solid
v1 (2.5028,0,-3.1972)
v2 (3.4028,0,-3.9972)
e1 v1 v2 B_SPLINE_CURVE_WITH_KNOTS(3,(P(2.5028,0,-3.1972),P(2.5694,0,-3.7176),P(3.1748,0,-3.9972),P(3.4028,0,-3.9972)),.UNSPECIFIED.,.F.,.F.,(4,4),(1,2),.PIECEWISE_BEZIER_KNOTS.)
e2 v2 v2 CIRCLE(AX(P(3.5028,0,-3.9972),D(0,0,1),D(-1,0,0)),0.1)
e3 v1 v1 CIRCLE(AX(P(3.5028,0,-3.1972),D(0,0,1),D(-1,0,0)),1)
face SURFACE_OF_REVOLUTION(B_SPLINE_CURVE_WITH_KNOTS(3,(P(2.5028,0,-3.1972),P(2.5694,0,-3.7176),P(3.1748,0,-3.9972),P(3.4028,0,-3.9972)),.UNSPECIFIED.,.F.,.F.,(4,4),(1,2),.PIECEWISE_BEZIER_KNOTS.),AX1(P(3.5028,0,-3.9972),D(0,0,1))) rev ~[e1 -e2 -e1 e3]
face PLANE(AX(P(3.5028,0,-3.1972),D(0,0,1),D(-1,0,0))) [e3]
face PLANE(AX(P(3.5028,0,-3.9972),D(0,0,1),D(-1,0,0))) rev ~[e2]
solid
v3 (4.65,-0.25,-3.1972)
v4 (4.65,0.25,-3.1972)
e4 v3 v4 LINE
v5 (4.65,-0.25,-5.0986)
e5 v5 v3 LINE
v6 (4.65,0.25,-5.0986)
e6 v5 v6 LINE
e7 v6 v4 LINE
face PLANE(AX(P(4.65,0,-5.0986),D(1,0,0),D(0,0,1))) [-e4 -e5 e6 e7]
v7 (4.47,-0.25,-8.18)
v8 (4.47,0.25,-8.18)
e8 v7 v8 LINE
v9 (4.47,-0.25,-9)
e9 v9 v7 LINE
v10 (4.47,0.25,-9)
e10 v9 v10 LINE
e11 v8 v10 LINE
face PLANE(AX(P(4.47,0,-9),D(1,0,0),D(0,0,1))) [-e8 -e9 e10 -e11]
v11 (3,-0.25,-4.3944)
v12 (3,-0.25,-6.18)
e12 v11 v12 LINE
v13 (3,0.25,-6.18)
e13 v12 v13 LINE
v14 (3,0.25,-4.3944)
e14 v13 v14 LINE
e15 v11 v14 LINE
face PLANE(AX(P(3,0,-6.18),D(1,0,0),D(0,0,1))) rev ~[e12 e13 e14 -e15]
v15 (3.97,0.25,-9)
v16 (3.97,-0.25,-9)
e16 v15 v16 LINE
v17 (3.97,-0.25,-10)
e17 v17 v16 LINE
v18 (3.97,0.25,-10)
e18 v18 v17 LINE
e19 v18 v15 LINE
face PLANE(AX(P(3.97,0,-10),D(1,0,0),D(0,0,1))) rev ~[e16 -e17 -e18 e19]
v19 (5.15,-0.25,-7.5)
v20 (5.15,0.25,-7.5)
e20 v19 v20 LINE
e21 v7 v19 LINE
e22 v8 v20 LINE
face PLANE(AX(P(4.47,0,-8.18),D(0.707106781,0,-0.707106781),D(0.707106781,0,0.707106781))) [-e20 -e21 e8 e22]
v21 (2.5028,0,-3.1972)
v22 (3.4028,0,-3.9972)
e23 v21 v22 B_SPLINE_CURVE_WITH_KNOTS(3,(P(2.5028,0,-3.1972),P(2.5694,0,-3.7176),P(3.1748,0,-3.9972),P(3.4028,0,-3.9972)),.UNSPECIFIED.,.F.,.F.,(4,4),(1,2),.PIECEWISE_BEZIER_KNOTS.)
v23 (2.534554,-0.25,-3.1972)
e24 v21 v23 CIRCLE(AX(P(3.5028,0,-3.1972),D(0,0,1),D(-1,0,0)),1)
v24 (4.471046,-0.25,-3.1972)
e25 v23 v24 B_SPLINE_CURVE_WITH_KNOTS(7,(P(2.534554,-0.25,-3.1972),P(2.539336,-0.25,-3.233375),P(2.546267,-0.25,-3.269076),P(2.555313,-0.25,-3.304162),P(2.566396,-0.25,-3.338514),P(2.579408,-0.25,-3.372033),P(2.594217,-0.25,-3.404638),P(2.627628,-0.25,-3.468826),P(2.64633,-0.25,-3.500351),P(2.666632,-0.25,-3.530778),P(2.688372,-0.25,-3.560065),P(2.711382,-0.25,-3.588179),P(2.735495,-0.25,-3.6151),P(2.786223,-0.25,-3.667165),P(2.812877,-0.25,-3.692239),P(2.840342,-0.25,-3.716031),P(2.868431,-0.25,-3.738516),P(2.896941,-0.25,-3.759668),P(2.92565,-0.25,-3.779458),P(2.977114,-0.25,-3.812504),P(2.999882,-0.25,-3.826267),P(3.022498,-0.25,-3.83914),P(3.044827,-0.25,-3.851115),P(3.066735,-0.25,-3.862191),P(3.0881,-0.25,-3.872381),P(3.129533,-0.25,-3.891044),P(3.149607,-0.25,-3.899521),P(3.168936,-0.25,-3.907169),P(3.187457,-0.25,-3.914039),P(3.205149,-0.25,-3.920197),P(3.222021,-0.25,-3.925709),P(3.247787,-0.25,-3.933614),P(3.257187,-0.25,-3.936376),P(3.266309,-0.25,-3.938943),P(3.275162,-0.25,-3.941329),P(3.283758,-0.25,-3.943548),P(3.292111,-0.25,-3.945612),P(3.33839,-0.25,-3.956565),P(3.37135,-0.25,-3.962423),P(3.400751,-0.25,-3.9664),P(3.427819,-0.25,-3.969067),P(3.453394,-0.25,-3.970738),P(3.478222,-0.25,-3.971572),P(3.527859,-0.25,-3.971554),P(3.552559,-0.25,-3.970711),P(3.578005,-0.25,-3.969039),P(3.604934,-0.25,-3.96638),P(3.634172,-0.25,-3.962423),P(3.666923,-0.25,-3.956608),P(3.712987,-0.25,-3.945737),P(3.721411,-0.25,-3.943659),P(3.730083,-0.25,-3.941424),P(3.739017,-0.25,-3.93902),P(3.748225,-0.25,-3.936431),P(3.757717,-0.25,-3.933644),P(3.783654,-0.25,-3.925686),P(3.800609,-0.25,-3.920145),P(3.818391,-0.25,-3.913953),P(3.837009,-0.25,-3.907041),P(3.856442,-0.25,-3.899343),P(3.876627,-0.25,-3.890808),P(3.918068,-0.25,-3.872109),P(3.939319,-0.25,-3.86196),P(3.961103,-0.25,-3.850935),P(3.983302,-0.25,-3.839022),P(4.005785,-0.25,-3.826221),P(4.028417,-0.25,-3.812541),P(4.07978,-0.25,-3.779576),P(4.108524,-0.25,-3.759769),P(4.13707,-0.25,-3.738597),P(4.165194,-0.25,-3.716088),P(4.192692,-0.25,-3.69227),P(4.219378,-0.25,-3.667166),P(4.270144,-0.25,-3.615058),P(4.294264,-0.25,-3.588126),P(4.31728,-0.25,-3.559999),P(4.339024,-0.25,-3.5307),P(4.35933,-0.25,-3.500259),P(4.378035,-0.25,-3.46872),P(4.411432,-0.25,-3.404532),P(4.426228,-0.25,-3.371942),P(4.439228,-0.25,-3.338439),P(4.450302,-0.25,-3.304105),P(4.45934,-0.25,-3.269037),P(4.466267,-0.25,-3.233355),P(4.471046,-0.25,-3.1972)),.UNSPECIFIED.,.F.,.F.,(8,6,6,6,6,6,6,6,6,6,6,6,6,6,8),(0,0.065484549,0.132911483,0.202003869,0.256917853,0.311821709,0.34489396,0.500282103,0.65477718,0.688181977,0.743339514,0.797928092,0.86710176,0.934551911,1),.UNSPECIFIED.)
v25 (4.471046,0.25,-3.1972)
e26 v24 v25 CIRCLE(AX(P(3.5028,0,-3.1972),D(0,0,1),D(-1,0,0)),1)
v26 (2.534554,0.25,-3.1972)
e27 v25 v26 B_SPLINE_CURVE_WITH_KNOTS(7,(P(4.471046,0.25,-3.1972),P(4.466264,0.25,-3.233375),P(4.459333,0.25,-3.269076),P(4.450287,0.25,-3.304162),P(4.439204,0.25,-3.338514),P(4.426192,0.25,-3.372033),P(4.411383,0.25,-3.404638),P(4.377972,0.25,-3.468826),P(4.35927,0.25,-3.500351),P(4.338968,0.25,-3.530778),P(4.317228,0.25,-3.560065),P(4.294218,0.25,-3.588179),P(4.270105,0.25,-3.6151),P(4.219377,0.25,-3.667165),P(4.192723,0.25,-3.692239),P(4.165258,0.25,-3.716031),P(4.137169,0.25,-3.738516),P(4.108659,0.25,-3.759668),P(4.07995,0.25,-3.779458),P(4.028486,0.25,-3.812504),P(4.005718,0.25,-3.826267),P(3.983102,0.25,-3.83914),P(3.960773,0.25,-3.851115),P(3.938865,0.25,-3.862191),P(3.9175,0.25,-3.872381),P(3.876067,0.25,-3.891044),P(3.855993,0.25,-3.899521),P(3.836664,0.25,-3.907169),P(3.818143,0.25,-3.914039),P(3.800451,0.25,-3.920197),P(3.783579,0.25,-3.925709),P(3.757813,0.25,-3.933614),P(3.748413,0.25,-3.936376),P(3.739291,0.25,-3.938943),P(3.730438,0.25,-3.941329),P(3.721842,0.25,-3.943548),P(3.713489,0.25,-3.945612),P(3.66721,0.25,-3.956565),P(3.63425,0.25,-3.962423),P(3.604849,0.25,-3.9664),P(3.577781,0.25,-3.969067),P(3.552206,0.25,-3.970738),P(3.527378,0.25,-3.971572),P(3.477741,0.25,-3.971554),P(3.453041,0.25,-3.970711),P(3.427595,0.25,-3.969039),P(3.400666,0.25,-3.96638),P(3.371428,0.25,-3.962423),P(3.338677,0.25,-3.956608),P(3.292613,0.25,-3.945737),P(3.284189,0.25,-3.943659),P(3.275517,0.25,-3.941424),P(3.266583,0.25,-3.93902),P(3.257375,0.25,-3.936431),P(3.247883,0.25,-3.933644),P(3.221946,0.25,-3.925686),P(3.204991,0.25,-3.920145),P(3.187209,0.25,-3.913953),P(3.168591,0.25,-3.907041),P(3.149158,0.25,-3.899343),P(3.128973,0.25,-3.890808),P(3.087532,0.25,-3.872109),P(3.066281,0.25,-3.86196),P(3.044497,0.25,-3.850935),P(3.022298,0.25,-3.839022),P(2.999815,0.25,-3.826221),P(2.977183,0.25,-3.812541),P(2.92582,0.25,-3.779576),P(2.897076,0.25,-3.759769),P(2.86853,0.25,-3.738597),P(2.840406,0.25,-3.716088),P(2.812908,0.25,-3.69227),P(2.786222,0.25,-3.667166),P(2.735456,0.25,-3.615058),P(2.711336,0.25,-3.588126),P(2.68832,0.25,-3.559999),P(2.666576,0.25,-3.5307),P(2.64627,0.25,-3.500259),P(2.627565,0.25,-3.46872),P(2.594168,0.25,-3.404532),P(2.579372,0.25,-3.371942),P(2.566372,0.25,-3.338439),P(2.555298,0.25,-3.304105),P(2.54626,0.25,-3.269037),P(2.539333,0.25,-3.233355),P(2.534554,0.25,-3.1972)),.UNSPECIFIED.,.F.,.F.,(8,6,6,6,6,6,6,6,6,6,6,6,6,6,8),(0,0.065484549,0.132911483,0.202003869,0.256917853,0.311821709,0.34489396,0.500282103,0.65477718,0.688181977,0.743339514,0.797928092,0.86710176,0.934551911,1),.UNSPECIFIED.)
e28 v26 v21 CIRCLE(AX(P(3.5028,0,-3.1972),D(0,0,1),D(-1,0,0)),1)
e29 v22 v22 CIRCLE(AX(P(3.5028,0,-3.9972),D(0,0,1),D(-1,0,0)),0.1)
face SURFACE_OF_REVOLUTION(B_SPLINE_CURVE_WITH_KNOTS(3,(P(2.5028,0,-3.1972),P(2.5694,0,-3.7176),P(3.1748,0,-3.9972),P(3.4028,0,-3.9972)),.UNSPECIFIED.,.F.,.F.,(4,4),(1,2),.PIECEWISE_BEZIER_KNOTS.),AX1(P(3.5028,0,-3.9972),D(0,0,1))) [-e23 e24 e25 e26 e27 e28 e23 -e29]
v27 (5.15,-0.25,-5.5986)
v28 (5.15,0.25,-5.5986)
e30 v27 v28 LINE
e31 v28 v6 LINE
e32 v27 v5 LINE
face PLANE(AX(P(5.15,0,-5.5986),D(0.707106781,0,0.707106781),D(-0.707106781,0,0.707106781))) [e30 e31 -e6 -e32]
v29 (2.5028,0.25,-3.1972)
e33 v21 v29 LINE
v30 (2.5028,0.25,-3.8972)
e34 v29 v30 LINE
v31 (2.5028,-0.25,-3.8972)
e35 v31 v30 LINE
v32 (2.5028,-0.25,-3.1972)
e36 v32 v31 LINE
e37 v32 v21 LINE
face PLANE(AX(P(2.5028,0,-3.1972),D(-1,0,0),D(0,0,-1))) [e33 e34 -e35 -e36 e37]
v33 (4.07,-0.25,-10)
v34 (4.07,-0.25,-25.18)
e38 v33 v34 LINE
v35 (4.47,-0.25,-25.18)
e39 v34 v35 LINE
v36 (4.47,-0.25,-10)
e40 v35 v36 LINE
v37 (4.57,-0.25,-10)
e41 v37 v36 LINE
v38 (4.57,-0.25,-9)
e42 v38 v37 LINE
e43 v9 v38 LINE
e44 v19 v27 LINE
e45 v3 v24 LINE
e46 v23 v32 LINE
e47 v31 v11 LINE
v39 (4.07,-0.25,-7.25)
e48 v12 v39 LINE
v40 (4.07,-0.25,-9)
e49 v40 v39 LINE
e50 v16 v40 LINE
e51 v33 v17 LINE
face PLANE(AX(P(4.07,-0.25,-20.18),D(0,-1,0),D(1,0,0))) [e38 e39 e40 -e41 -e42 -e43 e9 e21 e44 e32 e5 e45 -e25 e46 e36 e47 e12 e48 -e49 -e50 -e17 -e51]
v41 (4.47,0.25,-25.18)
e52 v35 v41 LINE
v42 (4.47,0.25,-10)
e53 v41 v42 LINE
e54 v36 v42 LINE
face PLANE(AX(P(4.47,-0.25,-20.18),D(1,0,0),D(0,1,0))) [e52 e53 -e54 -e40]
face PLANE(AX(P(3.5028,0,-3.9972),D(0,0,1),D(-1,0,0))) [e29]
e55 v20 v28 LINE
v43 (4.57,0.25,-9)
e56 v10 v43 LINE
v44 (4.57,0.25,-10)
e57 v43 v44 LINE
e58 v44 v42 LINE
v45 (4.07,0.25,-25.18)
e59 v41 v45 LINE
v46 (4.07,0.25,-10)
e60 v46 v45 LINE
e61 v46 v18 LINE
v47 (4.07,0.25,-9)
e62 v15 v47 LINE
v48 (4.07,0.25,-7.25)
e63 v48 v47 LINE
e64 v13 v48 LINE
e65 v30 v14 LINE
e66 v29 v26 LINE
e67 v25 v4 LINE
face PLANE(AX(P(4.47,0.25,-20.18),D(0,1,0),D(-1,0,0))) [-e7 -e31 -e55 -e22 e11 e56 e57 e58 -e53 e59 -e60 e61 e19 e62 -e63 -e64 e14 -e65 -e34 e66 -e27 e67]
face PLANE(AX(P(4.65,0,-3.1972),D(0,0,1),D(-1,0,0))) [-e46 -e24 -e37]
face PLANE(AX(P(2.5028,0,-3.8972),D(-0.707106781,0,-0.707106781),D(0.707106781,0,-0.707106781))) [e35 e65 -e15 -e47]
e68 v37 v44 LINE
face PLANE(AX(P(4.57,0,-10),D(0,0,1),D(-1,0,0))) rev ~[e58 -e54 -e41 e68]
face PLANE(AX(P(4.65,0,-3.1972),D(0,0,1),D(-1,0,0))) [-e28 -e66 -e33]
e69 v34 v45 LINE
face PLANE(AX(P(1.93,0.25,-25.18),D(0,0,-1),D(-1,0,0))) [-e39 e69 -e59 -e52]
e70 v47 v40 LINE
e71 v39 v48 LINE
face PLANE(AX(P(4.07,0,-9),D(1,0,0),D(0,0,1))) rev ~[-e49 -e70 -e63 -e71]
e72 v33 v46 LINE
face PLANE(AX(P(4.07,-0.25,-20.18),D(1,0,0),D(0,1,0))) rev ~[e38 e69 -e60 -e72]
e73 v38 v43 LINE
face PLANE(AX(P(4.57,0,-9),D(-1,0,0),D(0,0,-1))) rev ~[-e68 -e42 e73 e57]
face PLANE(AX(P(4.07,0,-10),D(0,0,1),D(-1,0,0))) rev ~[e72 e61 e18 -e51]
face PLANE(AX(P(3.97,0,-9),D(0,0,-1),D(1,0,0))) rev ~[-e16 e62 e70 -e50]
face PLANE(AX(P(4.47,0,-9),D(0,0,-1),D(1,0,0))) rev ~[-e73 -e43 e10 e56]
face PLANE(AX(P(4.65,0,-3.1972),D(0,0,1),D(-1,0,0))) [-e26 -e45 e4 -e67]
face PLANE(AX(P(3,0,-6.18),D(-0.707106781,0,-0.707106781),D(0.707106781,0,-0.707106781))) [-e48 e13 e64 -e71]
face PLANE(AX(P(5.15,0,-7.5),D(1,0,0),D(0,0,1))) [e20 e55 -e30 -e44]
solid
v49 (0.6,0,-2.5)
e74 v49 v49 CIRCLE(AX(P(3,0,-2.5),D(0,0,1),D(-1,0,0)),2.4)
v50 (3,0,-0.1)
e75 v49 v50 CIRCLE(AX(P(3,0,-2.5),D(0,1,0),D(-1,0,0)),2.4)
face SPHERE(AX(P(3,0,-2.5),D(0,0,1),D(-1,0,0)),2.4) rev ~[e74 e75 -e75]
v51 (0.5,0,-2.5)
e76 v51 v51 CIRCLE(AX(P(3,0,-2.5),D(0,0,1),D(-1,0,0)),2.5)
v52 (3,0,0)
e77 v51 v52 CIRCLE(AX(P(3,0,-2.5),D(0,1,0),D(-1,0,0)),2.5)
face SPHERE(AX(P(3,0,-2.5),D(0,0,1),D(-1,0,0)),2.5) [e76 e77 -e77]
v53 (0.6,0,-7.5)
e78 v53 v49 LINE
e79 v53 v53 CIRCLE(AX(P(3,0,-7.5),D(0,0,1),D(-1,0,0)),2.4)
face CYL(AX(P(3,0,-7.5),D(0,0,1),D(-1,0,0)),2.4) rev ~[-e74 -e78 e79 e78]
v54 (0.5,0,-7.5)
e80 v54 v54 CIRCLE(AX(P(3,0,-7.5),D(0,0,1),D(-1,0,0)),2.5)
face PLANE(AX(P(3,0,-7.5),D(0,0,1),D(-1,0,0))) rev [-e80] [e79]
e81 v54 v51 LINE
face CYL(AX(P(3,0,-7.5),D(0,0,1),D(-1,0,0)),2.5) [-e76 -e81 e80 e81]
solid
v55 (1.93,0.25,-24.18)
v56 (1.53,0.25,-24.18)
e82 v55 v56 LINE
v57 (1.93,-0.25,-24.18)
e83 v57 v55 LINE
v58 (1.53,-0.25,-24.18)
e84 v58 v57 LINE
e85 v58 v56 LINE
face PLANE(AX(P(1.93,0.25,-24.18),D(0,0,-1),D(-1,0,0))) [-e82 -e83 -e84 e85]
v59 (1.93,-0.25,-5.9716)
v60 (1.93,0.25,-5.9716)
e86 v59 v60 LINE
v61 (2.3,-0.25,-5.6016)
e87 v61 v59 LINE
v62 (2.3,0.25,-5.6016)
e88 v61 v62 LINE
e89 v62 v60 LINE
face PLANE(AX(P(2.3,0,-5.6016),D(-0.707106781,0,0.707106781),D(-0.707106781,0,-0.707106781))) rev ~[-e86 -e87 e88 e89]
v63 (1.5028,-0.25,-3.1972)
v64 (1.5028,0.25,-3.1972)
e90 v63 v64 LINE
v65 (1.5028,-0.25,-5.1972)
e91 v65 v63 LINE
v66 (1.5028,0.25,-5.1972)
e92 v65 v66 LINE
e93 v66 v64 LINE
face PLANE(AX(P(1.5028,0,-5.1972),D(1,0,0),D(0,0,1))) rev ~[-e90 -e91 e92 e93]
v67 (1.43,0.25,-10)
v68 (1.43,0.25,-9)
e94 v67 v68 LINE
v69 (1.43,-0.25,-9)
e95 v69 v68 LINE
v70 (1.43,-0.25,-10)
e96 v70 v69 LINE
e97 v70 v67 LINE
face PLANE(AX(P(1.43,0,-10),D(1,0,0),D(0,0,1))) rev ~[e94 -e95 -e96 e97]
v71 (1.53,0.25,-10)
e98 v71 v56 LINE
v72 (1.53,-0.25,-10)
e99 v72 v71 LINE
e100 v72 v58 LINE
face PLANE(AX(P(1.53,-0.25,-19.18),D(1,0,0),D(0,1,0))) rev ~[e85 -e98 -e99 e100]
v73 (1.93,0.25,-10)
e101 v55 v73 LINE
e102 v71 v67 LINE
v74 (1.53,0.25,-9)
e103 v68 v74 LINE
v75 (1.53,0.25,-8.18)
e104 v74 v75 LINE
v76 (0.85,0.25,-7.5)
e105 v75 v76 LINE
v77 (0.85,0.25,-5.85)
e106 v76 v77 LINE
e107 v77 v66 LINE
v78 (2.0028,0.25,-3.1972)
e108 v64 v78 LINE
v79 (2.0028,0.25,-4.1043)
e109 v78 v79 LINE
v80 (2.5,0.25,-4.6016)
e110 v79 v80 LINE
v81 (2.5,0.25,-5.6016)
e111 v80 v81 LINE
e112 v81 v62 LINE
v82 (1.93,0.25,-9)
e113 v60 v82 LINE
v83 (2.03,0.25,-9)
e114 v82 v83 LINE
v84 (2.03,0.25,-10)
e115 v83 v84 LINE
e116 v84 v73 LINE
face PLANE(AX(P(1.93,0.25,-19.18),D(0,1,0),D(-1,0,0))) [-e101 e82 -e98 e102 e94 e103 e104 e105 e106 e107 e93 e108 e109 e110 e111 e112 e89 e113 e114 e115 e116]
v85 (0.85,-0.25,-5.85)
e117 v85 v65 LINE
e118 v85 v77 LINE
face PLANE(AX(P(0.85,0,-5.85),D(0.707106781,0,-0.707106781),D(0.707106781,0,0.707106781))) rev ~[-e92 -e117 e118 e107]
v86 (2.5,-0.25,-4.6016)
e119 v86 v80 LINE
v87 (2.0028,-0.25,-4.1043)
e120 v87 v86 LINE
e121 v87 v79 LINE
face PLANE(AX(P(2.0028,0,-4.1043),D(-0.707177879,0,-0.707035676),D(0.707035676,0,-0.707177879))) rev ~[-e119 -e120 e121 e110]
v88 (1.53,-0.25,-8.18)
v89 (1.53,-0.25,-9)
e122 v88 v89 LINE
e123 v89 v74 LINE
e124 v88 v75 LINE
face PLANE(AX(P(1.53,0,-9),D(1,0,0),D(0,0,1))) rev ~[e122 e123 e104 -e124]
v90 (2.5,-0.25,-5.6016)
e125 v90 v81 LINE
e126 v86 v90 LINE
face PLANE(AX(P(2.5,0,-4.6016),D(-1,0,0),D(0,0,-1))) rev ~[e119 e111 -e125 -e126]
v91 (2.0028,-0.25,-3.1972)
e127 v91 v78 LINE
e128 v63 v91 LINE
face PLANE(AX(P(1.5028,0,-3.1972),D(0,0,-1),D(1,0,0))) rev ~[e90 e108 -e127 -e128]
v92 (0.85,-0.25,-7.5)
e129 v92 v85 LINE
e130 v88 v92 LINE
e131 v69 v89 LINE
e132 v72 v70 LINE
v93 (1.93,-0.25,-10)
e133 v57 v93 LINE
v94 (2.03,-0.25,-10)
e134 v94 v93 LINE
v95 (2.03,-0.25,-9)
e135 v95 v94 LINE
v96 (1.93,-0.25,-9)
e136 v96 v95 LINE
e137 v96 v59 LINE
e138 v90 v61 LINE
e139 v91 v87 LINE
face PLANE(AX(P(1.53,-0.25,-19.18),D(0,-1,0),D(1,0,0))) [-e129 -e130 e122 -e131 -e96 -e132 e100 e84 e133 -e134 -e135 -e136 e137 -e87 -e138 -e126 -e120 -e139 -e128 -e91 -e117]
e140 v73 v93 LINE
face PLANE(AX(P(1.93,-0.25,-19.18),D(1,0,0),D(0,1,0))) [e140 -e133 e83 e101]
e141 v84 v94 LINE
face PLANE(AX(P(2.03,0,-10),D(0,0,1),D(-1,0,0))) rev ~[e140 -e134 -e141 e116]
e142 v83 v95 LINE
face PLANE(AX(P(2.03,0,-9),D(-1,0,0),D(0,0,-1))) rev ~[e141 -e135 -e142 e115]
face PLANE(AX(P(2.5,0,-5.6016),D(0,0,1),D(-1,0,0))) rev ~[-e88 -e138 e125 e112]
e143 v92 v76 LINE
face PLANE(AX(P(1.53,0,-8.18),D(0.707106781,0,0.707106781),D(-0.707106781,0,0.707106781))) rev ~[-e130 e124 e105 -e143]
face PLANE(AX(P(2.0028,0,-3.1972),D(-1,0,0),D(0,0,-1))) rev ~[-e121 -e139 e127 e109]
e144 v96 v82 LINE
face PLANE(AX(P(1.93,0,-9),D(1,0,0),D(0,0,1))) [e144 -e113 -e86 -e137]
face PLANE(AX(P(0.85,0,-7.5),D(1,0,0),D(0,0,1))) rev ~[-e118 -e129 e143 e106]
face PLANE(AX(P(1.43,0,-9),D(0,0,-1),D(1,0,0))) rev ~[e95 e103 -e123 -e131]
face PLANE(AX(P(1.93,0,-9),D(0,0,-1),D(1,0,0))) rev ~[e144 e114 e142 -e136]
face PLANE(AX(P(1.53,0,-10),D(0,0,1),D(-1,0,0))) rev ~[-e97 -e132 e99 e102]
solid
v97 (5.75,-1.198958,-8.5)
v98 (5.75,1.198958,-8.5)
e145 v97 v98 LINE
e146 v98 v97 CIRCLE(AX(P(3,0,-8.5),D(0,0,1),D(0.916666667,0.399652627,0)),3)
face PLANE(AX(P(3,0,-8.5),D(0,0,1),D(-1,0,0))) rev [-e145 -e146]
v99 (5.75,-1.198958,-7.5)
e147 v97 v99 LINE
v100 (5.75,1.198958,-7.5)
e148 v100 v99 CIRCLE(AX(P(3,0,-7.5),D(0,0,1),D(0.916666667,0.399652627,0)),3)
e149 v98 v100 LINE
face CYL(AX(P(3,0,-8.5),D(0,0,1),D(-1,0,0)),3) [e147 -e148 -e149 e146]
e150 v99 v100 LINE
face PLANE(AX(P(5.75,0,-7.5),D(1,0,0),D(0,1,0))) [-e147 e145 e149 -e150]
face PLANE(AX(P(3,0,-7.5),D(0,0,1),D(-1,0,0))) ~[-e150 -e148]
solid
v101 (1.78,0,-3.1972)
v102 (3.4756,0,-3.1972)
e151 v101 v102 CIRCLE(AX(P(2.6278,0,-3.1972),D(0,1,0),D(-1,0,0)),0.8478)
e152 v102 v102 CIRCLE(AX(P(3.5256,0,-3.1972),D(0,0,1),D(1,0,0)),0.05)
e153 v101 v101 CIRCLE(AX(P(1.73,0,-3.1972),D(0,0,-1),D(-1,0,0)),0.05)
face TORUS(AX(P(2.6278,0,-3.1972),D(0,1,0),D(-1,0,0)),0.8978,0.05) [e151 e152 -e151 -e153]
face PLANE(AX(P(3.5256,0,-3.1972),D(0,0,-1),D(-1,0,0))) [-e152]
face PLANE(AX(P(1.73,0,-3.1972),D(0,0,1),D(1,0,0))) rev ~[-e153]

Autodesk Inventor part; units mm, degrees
ref_plane "YZ Plane" through (0, 0, 0) normal (1, 0, 0) x (0, 1, 0)
ref_plane "XZ Plane" through (0, 0, 0) normal (0, 1, 0) x (-1, 0, 0)
ref_plane "XY Plane" through (0, 0, 0) normal (0, 0, 1) x (1, 0, 0)
sketch "Sketch1" plane through (0, 0, 0) normal (0, 1, 0) x (-1, 0, 0)
  line L0 (-1.93, -19.18) -> (-1.53, -19.18)
  line L1 (-4.47, -20.18) -> (-4.07, -20.18)
  line L2 (-0.5, -2.5) -> (-5.5, -2.5) construction
  line L3 (-5.5, -2.5) -> (-5.5, -7.5)
  line L4 (-5.5, -7.5) -> (-0.5, -7.5)
  line L5 (-0.5, -7.5) -> (-0.5, -2.5)
  line L6 (0, -7.5) -> (-6, -7.5)
  line L7 (-6, -7.5) -> (-6, -8.5)
  line L8 (-6, -8.5) -> (0, -8.5)
  line L9 (0, -8.5) -> (0, -7.5)
  arc A0 (-0.5, -2.5) -> (-5.5, -2.5) centre (-3, -2.5) ccw
  line L10 (0, -24.216) -> (0, 4.0361) projected
  line L11 (17.1925, 0) -> (-9.8654, 0) projected
  line L12 (-3, -8.5) -> (-3, -19.8408) construction
  line L13 (-1.53, -19.18) -> (-1.53, -10)
  line L14 (-1.93, -19.18) -> (-1.93, -10)
  line L15 (-4.07, -20.18) -> (-4.07, -10)
  line L16 (-4.47, -20.18) -> (-4.47, -10)
  line L17 (-3, -8.5) -> (-3, 0)
  line L18 (-6, -19.8408) -> (0, -19.8408) construction
  line L19 (-1.43, -9) -> (-1.53, -9)
  line L20 (-2.03, -9) -> (-2.03, -10)
  line L21 (-2.03, -10) -> (-1.93, -10)
  line L22 (-1.43, -10) -> (-1.43, -9)
  line L23 (-3.97, -9) -> (-4.07, -9)
  line L24 (-4.57, -9) -> (-4.57, -10)
  line L25 (-4.57, -10) -> (-4.47, -10)
  line L26 (-3.97, -10) -> (-3.97, -9)
  line L27 (-1.93, -9) -> (-2.03, -9)
  line L28 (-4.07, -9) -> (-4.07, -7.25)
  line L29 (-4.47, -9) -> (-4.57, -9)
  line L30 (-4.07, -10) -> (-3.97, -10)
  line L31 (-1.53, -10) -> (-1.43, -10)
  line L32 (-4.47, -9) -> (-4.47, -8.18)
  line L33 (-1.93, -9) -> (-1.93, -5.9716)
  line L34 (-1.53, -9) -> (-1.53, -8.18)
  line L35 (-4.47, -8.18) -> (-5.15, -7.5)
  line L36 (-1.53, -8.18) -> (-0.85, -7.5)
  line L37 (-0.85, -7.5) -> (-0.85, -5.85)
  line L38 (-5.15, -7.5) -> (-5.15, -5.5986)
  line L39 (-5.15, -5.5986) -> (-4.65, -5.0986)
  line L40 (-4.65, -5.0986) -> (-4.65, -3.1972)
  line L41 (-4.65, -3.1972) -> (-2.5028, -3.1972)
  line L42 (-0.85, -5.85) -> (-1.5028, -5.1972)
  line L43 (-1.5028, -5.1972) -> (-1.5028, -3.1972)
  line L44 (-1.5028, -3.1972) -> (-2.0028, -3.1972)
  line L45 (-2.0028, -3.1972) -> (-2.0028, -4.1043)
  line L46 (-2.0028, -4.1043) -> (-2.5, -4.6016)
  line L47 (-2.5, -4.6016) -> (-2.5, -5.6016)
  line L48 (-2.5, -5.6016) -> (-2.3, -5.6016)
  line L49 (-2.3, -5.6016) -> (-1.93, -5.9716)
  line L50 (8.8309, -12.5892) -> (8.8309, -17.0713)
  line L51 (8.7309, -12.5892) -> (8.8309, -12.5892)
  line L52 (8.8309, -17.0713) -> (9.3309, -17.0713)
  line L53 (9.3309, -17.0713) -> (9.3309, -12.5892)
  line L54 (11.3309, -18.2444) -> (11.8309, -18.2444)
  line L55 (11.3309, -12.5815) -> (11.3309, -18.2444)
  line L56 (11.8309, -18.2444) -> (11.8309, -12.5815)
  line L57 (8.2266, -6.0537) -> (8.2266, -7.4999)
  line L58 (8.5861, -5.6941) -> (8.2266, -6.0537)
  line L59 (8.5861, -4.3452) -> (8.5861, -5.6941)
  line L60 (8.2266, -7.4999) -> (8.8309, -8.1043)
  line L61 (9.3309, -7.3282) -> (9.7365, -6.9226)
  line L62 (9.7365, -6.9226) -> (10.3309, -6.9226)
  line L63 (10.3309, -6.9226) -> (10.3309, -5.844)
  line L64 (8.5861, -4.3452) -> (11.2106, -4.3452)
  line L65 (10.8309, -6.0512) -> (10.8309, -6.9149)
  line L66 (10.8309, -6.9149) -> (11.1527, -6.9149)
  line L67 (11.2393, -4.3452) -> (11.2106, -4.3452)
  line L68 (11.1527, -6.9149) -> (11.3309, -7.0932)
  line L69 (11.8309, -8.0966) -> (12.4276, -7.4999)
  line L70 (12.4276, -7.4999) -> (12.4276, -5.8553)
  line L71 (9.4309, -11.5892) -> (9.3309, -11.5892)
  line L72 (11.8309, -11.5815) -> (11.8309, -8.0966)
  line L73 (8.8309, -8.1043) -> (8.8309, -11.5892)
  line L74 (11.3309, -7.0932) -> (11.3309, -11.5815)
  line L75 (9.3309, -11.5892) -> (9.3309, -7.3282)
  line L76 (10.3309, -5.844) -> (11.2106, -4.9643)
  line L77 (11.7107, -5.1714) -> (10.8309, -6.0512)
  line L78 (11.2106, -4.3452) -> (11.2393, -4.3452) construction
  line L79 (12.4276, -5.8553) -> (12.2082, -5.6359)
  line L80 (11.2106, -4.2719) -> (11.2106, -4.3452)
  line L81 (11.2106, -4.9643) -> (11.2106, -4.2719)
  line L82 (11.2106, -4.2719) -> (11.2393, -4.3452)
  line L83 (11.7107, -4.3453) -> (11.7107, -5.1714)
  line L84 (10.8445, -3.7709) -> (11.3445, -3.7709) construction
  spline S0 degree 3 poles (11.9954, -4.3997) (11.9862, -4.3486) (11.9578, -4.2521) (11.8889, -4.1254) (11.7974, -4.0171) (11.6749, -3.9177) (11.5186, -3.8358) (11.3301, -3.782) (11.1322, -3.7647) (10.9338, -3.7851) (10.7437, -3.8443) (10.5851, -3.9352) (10.4598, -4.0478) (10.3654, -4.1727) (10.2931, -4.3216) (10.262, -4.4371) (10.2513, -4.4991) knots 0 0 0 0 0.0625 0.125 0.1875 0.25 0.333333 0.416667 0.5 0.583333 0.666667 0.75 0.8125 0.875 0.9375 1 1 1 1
  line L85 (12.2082, -4.3453) -> (11.7107, -4.3453)
  line L86 (12.2082, -5.6359) -> (12.2082, -4.3453)
  line L87 (9.3309, -12.5892) -> (9.4309, -12.5892)
  line L88 (11.2309, -12.5815) -> (11.3309, -12.5815)
  line L89 (11.8309, -12.5815) -> (11.9309, -12.5815)
  line L90 (8.7309, -11.5892) -> (8.7309, -12.5892)
  line L91 (8.8309, -11.5892) -> (8.7309, -11.5892)
  line L92 (9.4309, -12.5892) -> (9.4309, -11.5892)
  line L93 (11.3309, -11.5815) -> (11.2309, -11.5815)
  line L94 (11.2309, -11.5815) -> (11.2309, -12.5815)
  line L95 (11.9309, -12.5815) -> (11.9309, -11.5815)
  line L96 (11.9309, -11.5815) -> (11.8309, -11.5815)
  line L97 (13.3271, -7.4999) -> (7.3271, -7.4999)
  line L98 (7.3271, -7.4999) -> (7.3271, -8.4999)
  line L99 (7.3271, -8.4999) -> (13.3271, -8.4999)
  line L100 (13.3271, -8.4999) -> (13.3271, -7.4999)
  line L101 (12.4276, -7.4999) -> (8.2266, -7.4999)
  line L102 (12.8271, -7.4999) -> (7.8271, -7.4999)
  line L103 (7.8271, -7.4999) -> (7.8271, -2.4999)
  line L104 (7.8271, -2.4999) -> (12.8271, -2.4999) construction
  line L105 (12.8271, -2.4999) -> (12.8271, -7.4999)
  arc A1 (12.8271, -2.4999) -> (7.8271, -2.4999) centre (10.3271, -2.4999) ccw
  line L106 (-2.5028, -3.1972) -> (-2.5028, -3.8972)
  line L107 (-2.5028, -3.8972) -> (-3, -4.3944)
  line L108 (-3, -4.3944) -> (-3, -5.9975)
  line L109 (-3, -6.18) -> (-4.07, -7.25)
  line L110 (-2.5028, -3.1972) -> (-2.0028, -3.1972) construction
  line L111 (-2.5, -5.6016) -> (-3, -5.9975) construction
  point P0 (0, 0)
  point P1 (-3, -7.5)
  point P2 (0, -8)
  point P3 (-1.73, -19.18)
  point P4 (-4.27, -20.18)
  point P5 (-3, -7.5)
  point P6 (0, 0)
  point P7 (7.8271, -7.4999)
  point P8 (10.3271, -7.4999)
  point P9 (-3, -5.196)
  point P10 (-3, -4.3944)
  point P11 (-3, -3.1972)
  dimension "d10" = 5
  dimension "d12" = 6
  dimension "d13" = 5
  dimension "d14" = 6
  dimension "Jarak_Kaki" = 2.54
  dimension "d18" = 1
  dimension "d19" = 0.4
  dimension "d20" = 1.27
  dimension "Panjang_Kaki" = 12
  dimension "d30" = 0.6
  dimension "d31" = 1
  dimension "d32" = 0.5
  dimension "d34" = 135
  dimension "d35" = 0.35
  dimension "d51" = 0.5
  dimension "d76" = 1.65
  dimension "d82" = 2.5
  dimension "d83" = 0.5
  dimension "d84" = 0.5
  dimension "d85" = 1
  dimension "d86" = 0.5
  dimension "d87" = 0.5
  dimension "d89" = 0.7
  dimension "d92" = 0.5
  dimension "d93" = 0.25
  dimension "d95" = 1
  dimension "d104" = 0.2
  dimension "d106" = 2
revolve "Revolution1" add sketch "Sketch1" angle 360 about axis through (3, 0, -8.5) along (0, 0, 1) contours L33 L49 L48 L47 L46 L45 L44 L43 L42 L37 L4 | L4 L17 L107 L106 L41 A0 L5 L37 L42 L43 L44 L45 L46 L47 L48 L49 L33 | L17 L41 L106 L107
shell "Shell1" thickness 0.1 removed faces 1 at (3.6238, -0.5526, -7.5)
revolve "Revolution2" add sketch "Sketch1" angle 360 about axis through (3, 0, -8.5) along (0, 0, 1) separate body contours L33 L4 L36 L34 L8 | L8 L17 L4 L33 | L34 L36 L4 L6 L9 L8
sketch "Sketch2" plane through (3, 0, -7.5) normal (0, 0, 1) x (1, 0, 0)
  line L0 (2.75, 2.5) -> (3.75, 2.5)
  line L1 (3.75, 2.5) -> (3.75, -2.5)
  line L2 (3.75, -2.5) -> (2.75, -2.5)
  line L3 (2.75, -2.5) -> (2.75, 2.5)
  circle A0 centre (0, 0) radius 2.5 projected
  circle A1 centre (0, 0) radius 2.5 projected
  line L4 (-3, -4.2) -> (-3, 4.2) construction
  line L5 (2.5, -1.6681) -> (2.5, 1.3873) construction
  line L6 (-4.368, 0) -> (5.2078, 0) projected
  point P0 (-3, 0)
  point P1 (2.75, 0)
  dimension "d110" = 0.25
  dimension "d111" = 5
  dimension "d112" = 1
extrude "Extrusion1" cut sketch "Sketch2" against normal up to next contours L0 L1 L6 L3 | L6 L1 L2 L3 bodies 2
extrude "Extrusion2" add sketch "Sketch1" along normal mid plane 0.5 separate body contours L14 L21 L20 L27 L33 L8 L34 L19 L22 L31 L13 L0 | L33 L4 L36 L34 L8 | L33 L49 L48 L47 L46 L45 L44 L43 L42 L37 L4 | L28 L23 L26 L30 L15 L1 L16 L25 L24 L29 L32 L8 | L8 L32 L35 L4 L28 | L4 L38 L39 L40 L41 L17 L109 L28 | L17 L41 L106 L107
sketch "Sketch3" plane through (2.4, 0, -4) normal (0, 1, 0) x (1, 0, 0)
  line L0 (0.1028, -0.1028) -> (0.1028, -0.8028) projected
  line L1 (0.1028, -0.8028) -> (0.1694, -0.2824) construction
  line L2 (0.1694, -0.2824) -> (0.7748, -0.0028) construction
  line L3 (0.7748, -0.0028) -> (1.0028, -0.0028) construction
  spline S0 degree 3 poles (0.1028, -0.8028) (0.1694, -0.2824) (0.7748, -0.0028) (1.0028, -0.0028) knots 1 1 1 1 2 2 2 2
  line L4 (0.1028, -0.8028) -> (2.25, -0.8028) projected
  line L5 (1.0028, -0.0028) -> (1.1028, -0.0028)
  line L6 (1.1028, -0.0028) -> (1.1028, -0.8028)
  dimension "d99" = 0.8
  dimension "d100" = 0.9
  dimension "d101" = 0.1
revolve "Revolution3" cut sketch "Sketch3" angle 360 about axis through (3.5028, 0, -3.9972) along (0, 0, 1) bodies 3
revolve "Revolution4" add sketch "Sketch3" angle 360 about axis through (3.5028, 0, -3.9972) along (0, 0, 1) separate body
sketch "Sketch4" plane through (3.5028, 0, -3.1972) normal (0, 0, 1) x (1, 0, 0)
  circle A0 centre (-1.7728, 0) radius 0.05
  line L0 (-2, -0.25) -> (-2, 0.25) construction
  line L1 (-2, 0.25) -> (-1.5, 0.25) construction
  line L2 (-1.5728, 0.25) -> (-1.9728, 0.25) construction
  line L3 (-2, 0) -> (-1.7728, 0) construction
  line L4 (-1.7728, 0) -> (-1.7728, 0.25) construction
  line L5 (-1.7728, 0.25) -> (-2, 0.25) construction
  line L6 (-2, 0.25) -> (-2, 0) construction
  circle A1 centre (0, 0) radius 0.05
  point P0 (-3.5028, 0)
  dimension "d109" = 0.1
sketch "Sketch5" plane through (0, 0, 0) normal (0, 1, 0) x (-1, 0, 0)
  line L0 (-5.5, -2.5) -> (-0.5, -2.5) construction
  line L1 (-5.5, -7.5) -> (-0.5, -7.5) construction
  line L2 (-1.5028, -3.1972) -> (-2.0028, -3.1972) construction
  line L3 (-4.5028, -3.1972) -> (-2.5028, -3.1972) construction
  line L4 (-1.7528, -3.1972) -> (-3.5028, -3.1972) construction
  arc A0 (-1.7528, -3.1972) -> (-3.5028, -3.1972) centre (-2.6278, -3.1972) ccw
  point P0 (0, 0)
sweep "Sweep1" add profiles "Sketch4" path "Sketch5" separate body contours A0
sketch "Skizze8" plane through (1.93, 0.25, -19.18) normal (0, 0, -1) x (-1, 0, 0)
  line L0 (0.4, -0.5) -> (0.4, 0) projected
  line L1 (0, 0) -> (0.4, 0) projected
  line L2 (0, -0.5) -> (0, 0) projected
  line L3 (0.4, -0.5) -> (0, -0.5) projected
  line L4 (-2.14, -0.5) -> (-2.14, 0) projected
  line L5 (-2.54, 0) -> (-2.14, 0) projected
  line L6 (-2.54, -0.5) -> (-2.54, 0) projected
  line L7 (-2.14, -0.5) -> (-2.54, -0.5) projected
  point P0 (1.93, -0.25)
  point P1 (0.2, -0.25)
  point P2 (-2.34, -0.25)
  point P3 (0.4, -0.25)
  point P4 (-2.14, -0.25)
  point P5 (0.2, -0.5)
  point P6 (-2.34, -0.5)
extrude "Extrusion3" add sketch "Skizze8" along normal blind 5 contours L3 L2 L1 L0 bodies 3
extrude "Extrusion4" add sketch "Skizze8" along normal blind 5 from surface at 1 contours L7 L6 L5 L4 bodies 3
equation "\"d10\" = Diameter_Led"
equation "\"d13\" = Diameter_Led"
equation "\"d20\" = 0.5 * Jarak_Kaki"
equation "\"Diameter_Led\" = 5"
properties part number "LED - yellow"
